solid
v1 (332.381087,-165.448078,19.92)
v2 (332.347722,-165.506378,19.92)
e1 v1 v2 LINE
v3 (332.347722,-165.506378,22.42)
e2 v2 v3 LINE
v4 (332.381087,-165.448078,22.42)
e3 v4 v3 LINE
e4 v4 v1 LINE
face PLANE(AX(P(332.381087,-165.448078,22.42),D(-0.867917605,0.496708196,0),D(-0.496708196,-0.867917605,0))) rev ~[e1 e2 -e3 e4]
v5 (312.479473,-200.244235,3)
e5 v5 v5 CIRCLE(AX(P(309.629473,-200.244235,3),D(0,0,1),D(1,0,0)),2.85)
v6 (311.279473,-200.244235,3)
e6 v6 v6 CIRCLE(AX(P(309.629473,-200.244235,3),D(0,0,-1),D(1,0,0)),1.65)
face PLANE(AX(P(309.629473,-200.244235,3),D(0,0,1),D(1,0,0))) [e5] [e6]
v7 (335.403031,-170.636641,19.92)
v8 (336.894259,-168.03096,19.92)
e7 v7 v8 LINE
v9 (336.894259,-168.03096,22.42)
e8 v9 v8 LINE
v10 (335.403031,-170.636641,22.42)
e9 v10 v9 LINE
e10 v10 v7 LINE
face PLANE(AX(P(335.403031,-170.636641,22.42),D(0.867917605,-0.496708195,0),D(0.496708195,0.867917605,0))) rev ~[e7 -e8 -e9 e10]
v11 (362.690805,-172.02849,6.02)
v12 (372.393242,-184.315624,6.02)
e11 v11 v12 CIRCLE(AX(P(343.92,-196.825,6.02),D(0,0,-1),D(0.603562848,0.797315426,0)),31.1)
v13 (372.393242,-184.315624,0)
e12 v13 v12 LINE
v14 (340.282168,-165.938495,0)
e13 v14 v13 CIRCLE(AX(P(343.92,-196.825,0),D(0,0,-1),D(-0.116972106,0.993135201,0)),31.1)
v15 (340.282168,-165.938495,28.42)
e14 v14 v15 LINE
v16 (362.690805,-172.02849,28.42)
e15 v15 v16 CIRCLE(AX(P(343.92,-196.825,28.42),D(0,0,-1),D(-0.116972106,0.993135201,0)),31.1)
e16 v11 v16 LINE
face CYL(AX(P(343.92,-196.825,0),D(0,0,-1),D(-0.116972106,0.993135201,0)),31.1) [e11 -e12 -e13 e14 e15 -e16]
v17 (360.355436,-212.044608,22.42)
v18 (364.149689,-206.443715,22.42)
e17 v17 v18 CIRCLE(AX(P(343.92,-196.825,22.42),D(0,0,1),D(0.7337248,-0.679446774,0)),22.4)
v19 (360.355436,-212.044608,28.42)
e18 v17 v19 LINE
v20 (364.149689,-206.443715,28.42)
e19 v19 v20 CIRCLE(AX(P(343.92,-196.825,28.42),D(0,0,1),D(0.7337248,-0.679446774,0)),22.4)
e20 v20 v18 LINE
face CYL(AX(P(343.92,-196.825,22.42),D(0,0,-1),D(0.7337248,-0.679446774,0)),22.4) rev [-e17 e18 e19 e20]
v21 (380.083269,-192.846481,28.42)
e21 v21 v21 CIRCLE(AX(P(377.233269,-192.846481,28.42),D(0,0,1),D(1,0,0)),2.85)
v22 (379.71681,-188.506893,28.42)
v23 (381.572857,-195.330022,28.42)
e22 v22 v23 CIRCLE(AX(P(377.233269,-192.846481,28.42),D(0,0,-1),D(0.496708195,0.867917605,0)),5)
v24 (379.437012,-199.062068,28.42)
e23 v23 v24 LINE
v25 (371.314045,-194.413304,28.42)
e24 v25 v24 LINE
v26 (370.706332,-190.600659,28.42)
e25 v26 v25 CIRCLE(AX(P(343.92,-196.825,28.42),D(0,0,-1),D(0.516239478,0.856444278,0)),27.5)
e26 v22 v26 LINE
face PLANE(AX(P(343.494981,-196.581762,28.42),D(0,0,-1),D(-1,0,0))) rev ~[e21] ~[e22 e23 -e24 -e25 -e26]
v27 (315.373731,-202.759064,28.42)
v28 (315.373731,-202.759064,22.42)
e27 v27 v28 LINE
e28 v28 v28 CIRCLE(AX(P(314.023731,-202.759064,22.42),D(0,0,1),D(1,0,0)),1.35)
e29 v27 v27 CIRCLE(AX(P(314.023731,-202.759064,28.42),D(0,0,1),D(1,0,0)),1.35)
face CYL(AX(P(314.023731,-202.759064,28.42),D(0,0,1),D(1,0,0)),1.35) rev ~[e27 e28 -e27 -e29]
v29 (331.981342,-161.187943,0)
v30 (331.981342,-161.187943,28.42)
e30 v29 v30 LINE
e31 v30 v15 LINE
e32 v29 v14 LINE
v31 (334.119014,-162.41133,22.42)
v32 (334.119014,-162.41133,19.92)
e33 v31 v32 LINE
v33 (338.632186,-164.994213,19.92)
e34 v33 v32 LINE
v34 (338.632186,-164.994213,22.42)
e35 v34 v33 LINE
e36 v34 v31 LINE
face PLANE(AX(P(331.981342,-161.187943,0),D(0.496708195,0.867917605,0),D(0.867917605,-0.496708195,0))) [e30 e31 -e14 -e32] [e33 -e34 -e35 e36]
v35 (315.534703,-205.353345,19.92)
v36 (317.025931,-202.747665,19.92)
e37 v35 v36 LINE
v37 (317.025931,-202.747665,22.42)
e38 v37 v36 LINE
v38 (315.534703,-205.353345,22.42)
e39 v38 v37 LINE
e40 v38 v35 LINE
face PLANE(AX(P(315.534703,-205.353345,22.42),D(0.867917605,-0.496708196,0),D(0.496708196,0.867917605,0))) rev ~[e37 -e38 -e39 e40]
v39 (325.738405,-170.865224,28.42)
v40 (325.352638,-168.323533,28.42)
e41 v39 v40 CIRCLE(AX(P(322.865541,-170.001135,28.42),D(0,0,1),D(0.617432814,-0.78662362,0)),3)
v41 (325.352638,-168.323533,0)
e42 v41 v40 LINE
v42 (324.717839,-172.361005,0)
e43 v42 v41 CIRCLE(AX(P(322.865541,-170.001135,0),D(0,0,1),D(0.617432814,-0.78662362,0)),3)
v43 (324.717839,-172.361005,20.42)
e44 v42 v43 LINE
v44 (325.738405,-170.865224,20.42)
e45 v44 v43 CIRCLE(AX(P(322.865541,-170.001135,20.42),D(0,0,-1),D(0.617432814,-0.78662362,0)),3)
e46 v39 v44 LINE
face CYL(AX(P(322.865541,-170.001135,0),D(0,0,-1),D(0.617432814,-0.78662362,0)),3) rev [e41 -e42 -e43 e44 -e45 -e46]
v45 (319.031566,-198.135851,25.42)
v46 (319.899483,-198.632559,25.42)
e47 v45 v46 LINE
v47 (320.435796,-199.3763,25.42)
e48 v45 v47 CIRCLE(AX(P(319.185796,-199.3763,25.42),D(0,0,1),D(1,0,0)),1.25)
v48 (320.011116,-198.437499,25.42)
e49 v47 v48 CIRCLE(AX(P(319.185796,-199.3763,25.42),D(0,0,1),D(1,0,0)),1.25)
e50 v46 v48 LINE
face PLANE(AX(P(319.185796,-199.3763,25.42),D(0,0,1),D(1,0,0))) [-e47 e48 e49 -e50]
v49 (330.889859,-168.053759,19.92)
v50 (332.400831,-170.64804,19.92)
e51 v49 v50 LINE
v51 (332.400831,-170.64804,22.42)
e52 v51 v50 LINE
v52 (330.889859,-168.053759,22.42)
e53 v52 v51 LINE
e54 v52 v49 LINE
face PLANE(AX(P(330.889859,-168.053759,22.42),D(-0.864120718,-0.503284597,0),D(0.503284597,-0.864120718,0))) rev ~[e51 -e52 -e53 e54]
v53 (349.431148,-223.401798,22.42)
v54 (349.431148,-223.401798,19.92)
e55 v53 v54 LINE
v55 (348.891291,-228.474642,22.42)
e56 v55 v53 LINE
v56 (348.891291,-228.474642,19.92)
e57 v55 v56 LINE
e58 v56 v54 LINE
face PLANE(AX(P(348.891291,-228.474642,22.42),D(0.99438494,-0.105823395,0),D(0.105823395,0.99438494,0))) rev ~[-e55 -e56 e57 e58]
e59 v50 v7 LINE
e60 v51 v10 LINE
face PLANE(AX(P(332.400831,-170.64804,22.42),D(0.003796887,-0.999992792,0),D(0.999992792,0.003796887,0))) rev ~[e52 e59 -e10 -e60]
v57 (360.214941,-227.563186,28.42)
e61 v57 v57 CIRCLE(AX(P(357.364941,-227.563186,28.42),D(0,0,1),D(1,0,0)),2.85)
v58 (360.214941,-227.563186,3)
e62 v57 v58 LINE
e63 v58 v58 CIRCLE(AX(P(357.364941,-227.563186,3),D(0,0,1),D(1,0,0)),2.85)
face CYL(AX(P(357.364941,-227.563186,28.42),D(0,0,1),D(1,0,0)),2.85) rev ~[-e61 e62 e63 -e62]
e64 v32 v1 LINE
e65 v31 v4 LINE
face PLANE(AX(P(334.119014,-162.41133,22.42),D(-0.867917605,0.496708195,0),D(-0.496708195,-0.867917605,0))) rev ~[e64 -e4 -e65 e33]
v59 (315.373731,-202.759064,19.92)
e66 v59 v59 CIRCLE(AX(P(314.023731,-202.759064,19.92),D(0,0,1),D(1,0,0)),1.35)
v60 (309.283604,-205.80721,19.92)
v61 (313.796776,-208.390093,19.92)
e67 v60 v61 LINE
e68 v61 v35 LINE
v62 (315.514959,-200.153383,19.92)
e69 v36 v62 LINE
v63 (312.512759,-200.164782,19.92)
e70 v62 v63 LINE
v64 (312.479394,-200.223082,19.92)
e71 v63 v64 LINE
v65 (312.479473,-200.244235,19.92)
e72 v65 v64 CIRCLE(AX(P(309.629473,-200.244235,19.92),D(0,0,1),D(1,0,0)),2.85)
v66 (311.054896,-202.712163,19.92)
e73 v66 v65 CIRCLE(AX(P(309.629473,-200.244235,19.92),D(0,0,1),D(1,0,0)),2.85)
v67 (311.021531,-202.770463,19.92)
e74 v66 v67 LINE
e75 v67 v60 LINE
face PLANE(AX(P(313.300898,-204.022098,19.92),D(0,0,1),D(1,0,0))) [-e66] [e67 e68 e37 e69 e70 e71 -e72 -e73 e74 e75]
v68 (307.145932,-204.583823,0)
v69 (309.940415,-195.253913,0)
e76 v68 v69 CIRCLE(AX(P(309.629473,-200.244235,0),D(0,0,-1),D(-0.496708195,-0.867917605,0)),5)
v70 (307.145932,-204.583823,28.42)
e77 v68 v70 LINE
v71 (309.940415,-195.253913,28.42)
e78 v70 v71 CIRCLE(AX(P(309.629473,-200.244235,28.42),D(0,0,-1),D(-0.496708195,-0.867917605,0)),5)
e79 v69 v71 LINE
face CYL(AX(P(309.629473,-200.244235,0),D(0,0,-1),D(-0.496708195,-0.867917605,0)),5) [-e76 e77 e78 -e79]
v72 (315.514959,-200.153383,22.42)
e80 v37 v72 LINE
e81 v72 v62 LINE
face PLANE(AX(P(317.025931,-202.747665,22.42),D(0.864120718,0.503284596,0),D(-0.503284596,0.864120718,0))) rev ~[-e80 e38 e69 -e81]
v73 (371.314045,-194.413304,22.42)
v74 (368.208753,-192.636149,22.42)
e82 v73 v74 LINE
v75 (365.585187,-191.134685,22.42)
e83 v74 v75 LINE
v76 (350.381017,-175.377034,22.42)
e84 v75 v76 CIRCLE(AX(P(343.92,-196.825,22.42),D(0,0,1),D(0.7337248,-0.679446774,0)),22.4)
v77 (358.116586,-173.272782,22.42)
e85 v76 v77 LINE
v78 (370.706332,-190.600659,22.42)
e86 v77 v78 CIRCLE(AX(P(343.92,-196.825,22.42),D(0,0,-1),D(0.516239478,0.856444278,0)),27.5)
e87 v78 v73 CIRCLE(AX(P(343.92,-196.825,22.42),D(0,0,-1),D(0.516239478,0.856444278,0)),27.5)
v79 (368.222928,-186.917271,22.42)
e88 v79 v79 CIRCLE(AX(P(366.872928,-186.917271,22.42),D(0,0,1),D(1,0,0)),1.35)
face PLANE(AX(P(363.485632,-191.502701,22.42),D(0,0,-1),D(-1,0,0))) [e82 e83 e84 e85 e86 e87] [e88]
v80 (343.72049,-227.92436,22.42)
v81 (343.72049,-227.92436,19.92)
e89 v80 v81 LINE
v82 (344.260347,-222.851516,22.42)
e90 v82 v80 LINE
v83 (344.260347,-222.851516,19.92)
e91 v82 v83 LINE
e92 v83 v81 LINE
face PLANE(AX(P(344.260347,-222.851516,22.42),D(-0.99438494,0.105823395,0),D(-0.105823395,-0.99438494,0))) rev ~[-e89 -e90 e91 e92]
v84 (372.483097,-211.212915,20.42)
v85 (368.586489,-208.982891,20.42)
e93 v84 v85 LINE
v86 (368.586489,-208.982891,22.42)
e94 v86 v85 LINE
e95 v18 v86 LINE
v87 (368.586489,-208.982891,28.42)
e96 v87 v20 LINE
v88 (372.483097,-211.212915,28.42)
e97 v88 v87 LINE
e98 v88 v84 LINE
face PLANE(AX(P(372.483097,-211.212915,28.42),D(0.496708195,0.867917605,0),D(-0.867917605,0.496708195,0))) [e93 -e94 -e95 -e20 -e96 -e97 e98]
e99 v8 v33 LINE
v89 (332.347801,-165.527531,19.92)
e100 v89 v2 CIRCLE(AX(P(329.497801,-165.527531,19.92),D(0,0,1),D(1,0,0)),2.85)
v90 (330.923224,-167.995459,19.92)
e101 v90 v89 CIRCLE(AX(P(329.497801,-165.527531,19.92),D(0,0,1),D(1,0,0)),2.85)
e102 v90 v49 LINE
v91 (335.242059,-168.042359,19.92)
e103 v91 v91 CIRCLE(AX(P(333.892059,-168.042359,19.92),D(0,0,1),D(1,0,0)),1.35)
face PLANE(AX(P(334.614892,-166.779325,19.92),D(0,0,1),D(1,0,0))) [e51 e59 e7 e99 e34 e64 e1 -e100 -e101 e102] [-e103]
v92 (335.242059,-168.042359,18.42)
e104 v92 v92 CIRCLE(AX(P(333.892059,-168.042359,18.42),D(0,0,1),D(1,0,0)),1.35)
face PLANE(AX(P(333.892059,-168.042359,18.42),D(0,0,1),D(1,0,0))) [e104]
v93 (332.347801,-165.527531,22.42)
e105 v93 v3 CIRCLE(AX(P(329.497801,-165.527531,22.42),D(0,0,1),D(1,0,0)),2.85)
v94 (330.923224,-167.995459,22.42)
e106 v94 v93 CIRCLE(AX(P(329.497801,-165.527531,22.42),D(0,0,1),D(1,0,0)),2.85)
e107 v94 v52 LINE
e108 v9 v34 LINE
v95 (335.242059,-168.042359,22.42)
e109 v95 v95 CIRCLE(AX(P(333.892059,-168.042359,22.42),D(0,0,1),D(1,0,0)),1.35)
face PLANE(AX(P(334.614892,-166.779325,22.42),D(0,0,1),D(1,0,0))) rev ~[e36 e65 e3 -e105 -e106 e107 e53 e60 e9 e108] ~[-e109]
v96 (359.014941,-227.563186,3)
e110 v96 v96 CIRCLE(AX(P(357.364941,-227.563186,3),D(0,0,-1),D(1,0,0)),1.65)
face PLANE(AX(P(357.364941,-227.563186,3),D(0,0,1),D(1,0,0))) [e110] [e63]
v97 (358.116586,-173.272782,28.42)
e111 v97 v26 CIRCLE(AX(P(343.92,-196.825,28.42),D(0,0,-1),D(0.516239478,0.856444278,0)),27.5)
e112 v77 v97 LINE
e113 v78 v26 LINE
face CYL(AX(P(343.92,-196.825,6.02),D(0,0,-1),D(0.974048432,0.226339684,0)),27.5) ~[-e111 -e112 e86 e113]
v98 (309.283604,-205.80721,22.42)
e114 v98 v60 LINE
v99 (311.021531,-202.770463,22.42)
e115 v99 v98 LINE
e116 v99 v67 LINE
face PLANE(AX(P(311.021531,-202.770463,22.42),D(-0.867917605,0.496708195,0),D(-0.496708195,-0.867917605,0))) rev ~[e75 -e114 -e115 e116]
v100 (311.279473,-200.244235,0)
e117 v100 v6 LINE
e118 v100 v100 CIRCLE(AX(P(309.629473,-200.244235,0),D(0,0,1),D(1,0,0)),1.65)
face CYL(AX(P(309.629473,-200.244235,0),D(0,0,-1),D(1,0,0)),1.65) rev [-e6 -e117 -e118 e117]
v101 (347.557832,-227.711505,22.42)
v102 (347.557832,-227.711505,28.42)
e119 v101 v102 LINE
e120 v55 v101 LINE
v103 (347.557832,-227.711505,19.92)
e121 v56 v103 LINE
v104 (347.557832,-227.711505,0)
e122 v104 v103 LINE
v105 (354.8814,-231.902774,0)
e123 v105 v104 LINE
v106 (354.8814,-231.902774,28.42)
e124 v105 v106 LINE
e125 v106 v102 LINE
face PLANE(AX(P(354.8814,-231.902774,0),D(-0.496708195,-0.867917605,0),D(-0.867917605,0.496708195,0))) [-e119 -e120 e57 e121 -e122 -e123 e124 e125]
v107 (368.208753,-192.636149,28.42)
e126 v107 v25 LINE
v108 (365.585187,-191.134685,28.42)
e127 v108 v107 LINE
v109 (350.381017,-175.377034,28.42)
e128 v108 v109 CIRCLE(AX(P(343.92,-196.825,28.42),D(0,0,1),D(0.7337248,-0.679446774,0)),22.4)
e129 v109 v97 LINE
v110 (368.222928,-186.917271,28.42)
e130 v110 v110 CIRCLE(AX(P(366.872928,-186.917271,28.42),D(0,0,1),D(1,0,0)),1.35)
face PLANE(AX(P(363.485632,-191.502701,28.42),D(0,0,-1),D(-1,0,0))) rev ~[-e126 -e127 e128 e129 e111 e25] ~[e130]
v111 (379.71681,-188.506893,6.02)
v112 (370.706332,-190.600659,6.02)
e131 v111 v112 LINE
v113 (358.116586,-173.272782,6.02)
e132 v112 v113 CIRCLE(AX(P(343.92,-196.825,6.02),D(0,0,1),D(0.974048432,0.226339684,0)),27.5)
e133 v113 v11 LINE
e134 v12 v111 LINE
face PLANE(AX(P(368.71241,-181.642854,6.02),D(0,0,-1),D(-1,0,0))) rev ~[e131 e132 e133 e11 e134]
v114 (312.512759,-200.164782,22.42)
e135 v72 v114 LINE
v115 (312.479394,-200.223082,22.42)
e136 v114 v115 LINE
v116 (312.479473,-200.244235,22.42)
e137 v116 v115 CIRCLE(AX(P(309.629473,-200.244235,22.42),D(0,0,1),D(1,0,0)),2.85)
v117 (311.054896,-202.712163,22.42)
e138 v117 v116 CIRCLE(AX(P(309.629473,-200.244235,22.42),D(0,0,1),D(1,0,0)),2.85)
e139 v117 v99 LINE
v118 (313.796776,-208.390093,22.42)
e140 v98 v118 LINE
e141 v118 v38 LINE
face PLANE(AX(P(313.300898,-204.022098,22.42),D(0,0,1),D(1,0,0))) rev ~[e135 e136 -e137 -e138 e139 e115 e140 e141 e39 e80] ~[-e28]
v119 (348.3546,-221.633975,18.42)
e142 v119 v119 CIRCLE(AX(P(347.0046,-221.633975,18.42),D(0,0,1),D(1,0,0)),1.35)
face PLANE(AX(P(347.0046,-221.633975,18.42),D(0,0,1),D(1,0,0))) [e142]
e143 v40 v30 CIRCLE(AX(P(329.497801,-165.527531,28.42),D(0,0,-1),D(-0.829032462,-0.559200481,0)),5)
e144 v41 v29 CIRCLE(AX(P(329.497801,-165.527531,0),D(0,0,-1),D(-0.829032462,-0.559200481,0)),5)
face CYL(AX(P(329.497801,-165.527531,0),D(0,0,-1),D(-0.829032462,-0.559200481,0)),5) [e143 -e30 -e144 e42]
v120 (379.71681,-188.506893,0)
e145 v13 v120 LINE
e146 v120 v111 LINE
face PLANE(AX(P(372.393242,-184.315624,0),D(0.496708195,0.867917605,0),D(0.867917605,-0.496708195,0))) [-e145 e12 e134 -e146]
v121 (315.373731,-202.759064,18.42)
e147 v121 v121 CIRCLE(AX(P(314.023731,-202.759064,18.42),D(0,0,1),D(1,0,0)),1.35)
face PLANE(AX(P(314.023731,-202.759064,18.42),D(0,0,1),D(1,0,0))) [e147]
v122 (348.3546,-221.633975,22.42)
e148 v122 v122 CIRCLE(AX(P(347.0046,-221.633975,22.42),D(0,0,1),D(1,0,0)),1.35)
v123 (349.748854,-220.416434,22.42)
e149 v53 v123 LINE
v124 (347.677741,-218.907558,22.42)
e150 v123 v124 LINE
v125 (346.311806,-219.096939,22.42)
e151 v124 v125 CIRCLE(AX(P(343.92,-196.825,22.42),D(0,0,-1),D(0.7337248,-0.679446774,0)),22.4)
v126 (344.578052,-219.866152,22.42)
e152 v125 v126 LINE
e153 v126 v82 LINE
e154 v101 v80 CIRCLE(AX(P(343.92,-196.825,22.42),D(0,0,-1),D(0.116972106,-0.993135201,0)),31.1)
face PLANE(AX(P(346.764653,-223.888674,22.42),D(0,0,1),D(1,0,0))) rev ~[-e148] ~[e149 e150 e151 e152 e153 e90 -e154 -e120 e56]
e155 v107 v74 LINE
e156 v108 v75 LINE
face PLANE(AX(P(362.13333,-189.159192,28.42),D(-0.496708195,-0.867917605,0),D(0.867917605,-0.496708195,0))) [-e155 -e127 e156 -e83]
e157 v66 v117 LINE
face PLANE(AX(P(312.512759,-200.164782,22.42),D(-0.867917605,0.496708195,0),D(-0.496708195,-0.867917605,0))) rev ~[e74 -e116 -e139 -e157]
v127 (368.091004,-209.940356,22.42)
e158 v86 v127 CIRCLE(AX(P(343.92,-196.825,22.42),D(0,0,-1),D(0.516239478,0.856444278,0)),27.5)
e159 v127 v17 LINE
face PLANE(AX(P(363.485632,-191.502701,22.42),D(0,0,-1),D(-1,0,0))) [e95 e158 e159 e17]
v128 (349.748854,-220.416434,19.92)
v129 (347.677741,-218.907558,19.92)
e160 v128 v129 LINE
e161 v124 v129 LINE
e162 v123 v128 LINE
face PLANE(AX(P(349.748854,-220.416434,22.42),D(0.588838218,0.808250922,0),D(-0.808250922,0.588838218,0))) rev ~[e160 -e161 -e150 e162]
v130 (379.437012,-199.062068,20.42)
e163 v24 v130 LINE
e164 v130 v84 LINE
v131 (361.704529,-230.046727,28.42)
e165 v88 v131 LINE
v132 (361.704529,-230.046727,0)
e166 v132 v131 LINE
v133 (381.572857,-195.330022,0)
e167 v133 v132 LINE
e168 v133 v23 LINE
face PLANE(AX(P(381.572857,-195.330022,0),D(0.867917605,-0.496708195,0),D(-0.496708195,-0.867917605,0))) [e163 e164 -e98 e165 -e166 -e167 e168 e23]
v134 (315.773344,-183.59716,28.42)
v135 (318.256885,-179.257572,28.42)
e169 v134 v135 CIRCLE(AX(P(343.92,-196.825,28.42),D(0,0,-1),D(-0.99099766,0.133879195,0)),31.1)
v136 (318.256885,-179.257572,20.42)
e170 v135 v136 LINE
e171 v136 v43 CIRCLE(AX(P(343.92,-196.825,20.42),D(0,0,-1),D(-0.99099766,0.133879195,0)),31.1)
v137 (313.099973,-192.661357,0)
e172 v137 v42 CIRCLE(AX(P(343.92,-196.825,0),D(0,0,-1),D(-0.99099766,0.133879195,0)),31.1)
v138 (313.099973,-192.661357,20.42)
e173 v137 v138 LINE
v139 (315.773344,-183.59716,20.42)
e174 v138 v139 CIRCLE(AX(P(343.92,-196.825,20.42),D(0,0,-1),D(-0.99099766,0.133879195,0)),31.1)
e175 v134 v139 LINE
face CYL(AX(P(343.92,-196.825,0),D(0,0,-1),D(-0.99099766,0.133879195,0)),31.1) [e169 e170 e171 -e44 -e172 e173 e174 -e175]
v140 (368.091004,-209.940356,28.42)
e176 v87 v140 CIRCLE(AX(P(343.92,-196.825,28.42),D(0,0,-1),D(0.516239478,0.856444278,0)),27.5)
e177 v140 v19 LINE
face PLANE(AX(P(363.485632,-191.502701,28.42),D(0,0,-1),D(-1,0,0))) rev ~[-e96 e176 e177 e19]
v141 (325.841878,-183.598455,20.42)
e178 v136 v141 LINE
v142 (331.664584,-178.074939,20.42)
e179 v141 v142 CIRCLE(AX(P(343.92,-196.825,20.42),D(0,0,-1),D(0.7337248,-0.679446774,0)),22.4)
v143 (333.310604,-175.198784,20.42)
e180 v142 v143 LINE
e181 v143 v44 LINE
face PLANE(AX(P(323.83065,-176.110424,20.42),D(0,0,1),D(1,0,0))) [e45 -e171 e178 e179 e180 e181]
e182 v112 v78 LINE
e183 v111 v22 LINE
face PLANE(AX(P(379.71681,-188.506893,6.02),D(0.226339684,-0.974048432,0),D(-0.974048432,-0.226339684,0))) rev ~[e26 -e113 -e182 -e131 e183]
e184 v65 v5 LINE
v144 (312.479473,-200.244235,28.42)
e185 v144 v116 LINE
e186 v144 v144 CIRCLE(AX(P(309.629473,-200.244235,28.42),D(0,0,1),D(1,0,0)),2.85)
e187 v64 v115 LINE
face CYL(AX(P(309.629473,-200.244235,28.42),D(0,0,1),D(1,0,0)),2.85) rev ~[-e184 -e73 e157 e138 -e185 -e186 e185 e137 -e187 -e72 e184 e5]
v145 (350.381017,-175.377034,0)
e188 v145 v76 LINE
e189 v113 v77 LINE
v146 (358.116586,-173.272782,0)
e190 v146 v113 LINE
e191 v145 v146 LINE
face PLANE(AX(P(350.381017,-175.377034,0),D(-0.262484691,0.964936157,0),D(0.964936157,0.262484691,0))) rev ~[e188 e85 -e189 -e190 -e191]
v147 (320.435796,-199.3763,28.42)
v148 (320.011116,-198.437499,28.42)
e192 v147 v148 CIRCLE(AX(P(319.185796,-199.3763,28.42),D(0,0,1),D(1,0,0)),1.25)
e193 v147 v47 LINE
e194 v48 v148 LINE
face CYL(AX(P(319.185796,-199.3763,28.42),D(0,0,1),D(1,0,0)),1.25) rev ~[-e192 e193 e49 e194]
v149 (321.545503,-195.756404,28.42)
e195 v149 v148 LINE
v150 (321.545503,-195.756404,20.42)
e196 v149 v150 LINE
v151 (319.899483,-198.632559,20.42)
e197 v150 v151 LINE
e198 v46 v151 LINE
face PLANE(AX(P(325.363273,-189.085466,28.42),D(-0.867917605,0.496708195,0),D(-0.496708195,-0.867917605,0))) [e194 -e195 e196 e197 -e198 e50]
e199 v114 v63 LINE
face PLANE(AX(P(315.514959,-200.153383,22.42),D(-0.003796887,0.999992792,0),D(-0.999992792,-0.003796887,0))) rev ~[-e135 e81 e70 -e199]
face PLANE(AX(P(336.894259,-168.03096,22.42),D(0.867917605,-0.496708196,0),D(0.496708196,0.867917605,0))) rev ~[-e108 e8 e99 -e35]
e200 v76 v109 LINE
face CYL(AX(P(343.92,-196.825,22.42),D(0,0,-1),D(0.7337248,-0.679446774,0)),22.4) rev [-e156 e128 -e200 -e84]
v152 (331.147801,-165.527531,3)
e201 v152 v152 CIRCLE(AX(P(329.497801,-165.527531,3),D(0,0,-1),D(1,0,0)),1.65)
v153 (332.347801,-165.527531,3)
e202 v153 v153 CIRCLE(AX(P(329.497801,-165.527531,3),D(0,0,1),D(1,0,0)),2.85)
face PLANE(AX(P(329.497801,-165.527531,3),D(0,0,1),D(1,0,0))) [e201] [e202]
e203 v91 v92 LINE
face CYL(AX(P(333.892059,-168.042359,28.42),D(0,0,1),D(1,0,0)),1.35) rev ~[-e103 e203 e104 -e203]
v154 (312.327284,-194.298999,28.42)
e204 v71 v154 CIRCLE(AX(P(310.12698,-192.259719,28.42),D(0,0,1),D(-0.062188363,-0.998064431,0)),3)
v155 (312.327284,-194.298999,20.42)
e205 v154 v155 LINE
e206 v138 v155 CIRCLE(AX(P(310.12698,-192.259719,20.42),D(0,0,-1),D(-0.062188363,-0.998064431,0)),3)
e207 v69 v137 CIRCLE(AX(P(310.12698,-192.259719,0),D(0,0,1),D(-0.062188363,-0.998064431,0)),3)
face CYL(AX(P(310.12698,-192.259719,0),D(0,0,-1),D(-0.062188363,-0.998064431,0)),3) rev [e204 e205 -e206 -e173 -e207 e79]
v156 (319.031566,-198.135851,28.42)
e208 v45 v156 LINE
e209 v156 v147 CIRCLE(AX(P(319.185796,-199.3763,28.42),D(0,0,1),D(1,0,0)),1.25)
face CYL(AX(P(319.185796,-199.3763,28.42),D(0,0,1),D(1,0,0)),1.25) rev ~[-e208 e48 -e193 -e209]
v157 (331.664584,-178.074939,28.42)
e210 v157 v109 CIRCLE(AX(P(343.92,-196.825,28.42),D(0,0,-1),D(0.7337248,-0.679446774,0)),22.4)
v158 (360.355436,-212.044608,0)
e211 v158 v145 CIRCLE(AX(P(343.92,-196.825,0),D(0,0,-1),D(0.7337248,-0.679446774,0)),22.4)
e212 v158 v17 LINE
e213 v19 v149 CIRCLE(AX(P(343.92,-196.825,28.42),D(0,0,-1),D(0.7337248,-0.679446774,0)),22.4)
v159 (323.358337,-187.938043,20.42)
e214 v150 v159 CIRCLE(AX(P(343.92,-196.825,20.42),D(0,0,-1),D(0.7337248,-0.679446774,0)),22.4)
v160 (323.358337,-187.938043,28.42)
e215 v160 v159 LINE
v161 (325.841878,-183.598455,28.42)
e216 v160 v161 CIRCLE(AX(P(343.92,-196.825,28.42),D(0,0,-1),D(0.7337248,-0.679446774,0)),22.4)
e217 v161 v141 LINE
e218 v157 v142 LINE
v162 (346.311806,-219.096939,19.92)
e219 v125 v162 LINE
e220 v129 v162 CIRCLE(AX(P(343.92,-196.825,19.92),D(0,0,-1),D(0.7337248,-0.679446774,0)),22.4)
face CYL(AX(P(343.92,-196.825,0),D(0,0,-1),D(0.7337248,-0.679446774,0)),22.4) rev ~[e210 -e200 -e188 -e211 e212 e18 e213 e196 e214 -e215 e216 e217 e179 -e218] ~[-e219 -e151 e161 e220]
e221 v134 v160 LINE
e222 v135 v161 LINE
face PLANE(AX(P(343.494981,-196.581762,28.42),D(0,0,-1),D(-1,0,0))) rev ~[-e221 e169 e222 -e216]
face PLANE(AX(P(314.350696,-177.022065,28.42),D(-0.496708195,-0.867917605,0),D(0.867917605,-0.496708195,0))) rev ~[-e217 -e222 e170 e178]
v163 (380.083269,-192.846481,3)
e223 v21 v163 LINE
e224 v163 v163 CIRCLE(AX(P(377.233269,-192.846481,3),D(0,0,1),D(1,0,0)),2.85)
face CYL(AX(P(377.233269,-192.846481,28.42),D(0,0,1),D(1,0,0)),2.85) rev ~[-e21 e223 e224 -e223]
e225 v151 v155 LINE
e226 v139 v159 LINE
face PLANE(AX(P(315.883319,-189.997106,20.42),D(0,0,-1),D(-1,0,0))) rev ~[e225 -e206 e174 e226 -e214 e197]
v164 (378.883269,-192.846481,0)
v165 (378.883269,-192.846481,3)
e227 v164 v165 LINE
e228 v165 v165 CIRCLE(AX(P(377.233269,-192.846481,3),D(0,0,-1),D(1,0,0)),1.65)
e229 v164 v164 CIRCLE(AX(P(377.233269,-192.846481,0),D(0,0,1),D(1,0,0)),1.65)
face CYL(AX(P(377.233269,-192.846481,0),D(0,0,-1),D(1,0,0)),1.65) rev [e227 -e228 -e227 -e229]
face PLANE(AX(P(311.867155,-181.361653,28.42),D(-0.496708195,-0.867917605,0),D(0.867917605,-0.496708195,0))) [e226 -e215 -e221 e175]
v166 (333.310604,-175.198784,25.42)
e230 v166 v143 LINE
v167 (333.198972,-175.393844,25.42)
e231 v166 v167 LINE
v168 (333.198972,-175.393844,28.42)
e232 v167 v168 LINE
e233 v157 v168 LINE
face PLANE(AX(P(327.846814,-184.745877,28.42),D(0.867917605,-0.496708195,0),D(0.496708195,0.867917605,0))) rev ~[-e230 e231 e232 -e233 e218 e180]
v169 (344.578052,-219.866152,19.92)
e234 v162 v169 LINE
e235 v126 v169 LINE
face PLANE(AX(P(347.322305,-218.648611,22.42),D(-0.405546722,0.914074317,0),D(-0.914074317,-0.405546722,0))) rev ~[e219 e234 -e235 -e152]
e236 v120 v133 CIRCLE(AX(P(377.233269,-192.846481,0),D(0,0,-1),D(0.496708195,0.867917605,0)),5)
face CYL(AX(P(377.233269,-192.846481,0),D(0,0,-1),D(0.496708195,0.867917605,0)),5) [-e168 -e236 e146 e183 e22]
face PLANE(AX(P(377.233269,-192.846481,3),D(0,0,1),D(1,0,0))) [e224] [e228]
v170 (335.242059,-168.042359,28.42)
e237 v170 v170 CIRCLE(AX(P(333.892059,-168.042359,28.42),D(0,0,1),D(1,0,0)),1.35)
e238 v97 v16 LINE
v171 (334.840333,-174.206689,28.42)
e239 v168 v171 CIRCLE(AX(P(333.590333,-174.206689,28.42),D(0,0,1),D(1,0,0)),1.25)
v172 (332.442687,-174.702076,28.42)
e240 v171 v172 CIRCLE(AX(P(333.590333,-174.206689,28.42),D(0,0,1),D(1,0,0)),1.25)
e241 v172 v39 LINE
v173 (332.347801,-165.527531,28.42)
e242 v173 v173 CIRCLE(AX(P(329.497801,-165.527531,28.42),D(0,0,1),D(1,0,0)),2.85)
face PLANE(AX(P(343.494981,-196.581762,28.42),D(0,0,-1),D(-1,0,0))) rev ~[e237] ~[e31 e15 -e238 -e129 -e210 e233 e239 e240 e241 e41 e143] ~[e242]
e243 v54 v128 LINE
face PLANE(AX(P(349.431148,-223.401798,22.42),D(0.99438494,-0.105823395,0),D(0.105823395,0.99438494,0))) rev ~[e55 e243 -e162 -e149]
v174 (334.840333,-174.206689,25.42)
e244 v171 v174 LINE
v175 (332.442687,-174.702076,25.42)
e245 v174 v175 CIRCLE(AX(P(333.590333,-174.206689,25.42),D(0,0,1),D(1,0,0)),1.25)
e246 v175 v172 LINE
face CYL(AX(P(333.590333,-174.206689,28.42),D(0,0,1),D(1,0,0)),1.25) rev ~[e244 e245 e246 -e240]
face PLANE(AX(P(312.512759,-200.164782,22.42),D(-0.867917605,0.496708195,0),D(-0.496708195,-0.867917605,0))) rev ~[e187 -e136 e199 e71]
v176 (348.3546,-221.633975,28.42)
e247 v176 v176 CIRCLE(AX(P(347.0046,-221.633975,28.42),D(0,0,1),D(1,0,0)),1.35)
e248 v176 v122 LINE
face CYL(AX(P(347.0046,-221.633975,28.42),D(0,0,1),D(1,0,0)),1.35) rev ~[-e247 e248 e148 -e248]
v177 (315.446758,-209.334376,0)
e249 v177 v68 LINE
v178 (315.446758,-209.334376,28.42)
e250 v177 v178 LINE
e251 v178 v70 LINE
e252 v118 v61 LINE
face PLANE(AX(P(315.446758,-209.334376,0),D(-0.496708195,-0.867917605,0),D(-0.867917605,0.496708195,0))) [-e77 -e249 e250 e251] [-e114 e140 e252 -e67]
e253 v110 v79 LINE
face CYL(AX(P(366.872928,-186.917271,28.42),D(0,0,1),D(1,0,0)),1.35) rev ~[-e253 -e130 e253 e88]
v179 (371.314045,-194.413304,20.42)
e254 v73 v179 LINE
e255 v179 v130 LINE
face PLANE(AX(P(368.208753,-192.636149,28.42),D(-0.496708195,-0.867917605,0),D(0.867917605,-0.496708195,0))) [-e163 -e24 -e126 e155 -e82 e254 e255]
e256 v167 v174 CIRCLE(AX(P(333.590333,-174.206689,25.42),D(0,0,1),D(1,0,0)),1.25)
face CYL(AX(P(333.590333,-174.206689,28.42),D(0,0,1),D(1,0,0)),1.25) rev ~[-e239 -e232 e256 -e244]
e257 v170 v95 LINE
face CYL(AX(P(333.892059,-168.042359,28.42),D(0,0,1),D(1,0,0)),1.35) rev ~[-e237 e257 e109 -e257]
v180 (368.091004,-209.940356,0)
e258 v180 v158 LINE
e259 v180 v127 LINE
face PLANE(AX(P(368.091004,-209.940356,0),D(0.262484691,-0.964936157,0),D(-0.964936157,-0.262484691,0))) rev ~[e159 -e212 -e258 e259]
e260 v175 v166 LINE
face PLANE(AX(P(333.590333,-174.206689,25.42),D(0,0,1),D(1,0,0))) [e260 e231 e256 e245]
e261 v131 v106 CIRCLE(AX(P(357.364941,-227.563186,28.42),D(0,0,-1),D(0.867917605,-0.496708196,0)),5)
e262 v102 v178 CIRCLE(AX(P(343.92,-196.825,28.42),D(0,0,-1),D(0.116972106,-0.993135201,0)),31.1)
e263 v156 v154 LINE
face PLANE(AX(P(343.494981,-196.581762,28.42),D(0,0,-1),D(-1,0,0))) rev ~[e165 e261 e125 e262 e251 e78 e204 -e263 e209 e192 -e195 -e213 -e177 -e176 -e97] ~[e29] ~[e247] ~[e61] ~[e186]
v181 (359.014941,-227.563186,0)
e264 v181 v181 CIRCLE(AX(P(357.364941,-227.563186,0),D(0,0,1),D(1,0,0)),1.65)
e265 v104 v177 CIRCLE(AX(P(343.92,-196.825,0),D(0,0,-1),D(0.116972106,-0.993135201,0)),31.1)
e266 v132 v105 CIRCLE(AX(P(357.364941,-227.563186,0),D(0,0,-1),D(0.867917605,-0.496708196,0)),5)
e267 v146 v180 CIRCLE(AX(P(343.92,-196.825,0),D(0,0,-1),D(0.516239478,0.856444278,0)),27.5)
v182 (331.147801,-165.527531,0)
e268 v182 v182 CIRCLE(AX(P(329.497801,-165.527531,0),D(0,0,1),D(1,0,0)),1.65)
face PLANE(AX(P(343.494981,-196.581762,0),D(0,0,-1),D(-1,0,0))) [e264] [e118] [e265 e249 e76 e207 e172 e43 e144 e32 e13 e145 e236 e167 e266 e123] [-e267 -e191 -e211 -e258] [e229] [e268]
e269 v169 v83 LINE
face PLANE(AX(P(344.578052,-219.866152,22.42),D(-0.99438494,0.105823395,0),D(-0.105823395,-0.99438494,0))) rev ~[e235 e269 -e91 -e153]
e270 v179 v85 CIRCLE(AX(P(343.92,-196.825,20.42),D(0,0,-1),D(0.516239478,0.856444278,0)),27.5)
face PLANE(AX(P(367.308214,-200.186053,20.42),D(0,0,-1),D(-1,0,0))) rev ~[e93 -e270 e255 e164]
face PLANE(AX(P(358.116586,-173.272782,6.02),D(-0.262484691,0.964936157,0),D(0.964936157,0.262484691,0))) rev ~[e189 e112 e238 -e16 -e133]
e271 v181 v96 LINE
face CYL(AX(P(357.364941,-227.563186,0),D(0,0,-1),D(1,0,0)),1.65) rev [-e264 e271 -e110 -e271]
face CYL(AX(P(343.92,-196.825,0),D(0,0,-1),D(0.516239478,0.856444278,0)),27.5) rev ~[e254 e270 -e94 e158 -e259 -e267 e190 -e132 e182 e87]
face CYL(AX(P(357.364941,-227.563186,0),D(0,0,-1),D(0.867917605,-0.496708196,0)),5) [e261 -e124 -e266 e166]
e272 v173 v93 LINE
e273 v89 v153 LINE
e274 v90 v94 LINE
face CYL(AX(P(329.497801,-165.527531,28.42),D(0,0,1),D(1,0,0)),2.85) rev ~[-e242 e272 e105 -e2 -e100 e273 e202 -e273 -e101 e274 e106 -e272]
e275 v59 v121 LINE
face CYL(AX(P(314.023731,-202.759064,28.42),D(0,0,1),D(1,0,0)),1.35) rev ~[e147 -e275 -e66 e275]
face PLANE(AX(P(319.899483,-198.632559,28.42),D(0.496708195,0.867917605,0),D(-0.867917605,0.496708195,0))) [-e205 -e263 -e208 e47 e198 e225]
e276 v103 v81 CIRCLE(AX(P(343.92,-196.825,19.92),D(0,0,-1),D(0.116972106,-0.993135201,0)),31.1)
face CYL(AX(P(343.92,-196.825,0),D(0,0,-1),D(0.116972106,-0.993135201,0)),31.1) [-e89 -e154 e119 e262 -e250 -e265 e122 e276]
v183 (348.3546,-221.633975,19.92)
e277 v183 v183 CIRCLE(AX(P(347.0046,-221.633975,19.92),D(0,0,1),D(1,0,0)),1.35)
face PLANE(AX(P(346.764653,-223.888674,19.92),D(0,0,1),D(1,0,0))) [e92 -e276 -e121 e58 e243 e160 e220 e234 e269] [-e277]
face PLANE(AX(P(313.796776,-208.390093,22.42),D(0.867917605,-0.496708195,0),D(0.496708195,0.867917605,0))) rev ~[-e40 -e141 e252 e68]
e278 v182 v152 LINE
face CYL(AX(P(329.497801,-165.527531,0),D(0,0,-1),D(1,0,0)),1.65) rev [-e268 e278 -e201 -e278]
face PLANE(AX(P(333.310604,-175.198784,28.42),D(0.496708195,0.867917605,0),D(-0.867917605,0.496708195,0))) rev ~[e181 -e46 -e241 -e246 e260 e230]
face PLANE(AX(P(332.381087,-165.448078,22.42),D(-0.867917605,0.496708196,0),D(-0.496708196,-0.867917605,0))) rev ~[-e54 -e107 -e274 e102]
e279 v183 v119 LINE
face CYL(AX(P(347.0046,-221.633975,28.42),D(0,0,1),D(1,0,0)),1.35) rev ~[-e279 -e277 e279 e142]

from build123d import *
from build123d.topology import SkipClean

# Parameters (mm, degrees)
SKETCH1_R           = 1.65
BOSS_EXTRUDE1_DEPTH = 28.42
BOSS_EXTRUDE2_START = -6
BOSS_EXTRUDE2_DEPTH = 6
CUT_EXTRUDE1_DEPTH  = 448.984003326
SKETCH2_R           = 1.35
CUT_EXTRUDE2_DEPTH  = 10
CUT_EXTRUDE3_START  = -6
CUT_EXTRUDE3_DEPTH  = 2.5
SKETCH6_R           = 2.85
CUT_EXTRUDE4_DEPTH  = 25.42
CUT_EXTRUDE5_DEPTH  = 8
SKETCH9_R           = 1.25
SKETCH9_R_2         = 0.9
CUT_EXTRUDE6_DEPTH  = 3


with BuildPart() as part:
    # Sketch1 → Boss-Extrude1 (new body)
    with BuildSketch(Plane.XY):
        with BuildLine():
            Line((315.446757744, -209.334375502), (307.145931928, -204.583822928))
            ThreePointArc((307.145931928, -204.583822928), (304.839707487, -198.809610477), (309.94041472, -195.253912751))
            ThreePointArc((309.94041472, -195.253912751), (312.02997255, -194.578904366), (313.099972788, -192.661357044))
            ThreePointArc((313.099972788, -192.661357044), (316.927762492, -181.377375124), (324.717839469, -172.361005417))
            ThreePointArc((324.717839469, -172.361005417), (325.829134231, -170.467090901), (325.352638411, -168.323533116))
            ThreePointArc((325.352638411, -168.323533116), (325.834549562, -162.124503979), (331.981341697, -161.18794269))
            Line((331.981341697, -161.18794269), (340.282167513, -165.938495264))
            ThreePointArc((340.282167513, -165.938495264), (359.367624876, -169.832762492), (372.393242256, -184.315624498))
            Line((372.393242256, -184.315624498), (379.716809958, -188.506893436))
            ThreePointArc((379.716809958, -188.506893436), (382.057949767, -191.534058007), (381.572857005, -195.330022437))
            Line((381.572857005, -195.330022437), (361.70452919, -230.046726627))
            ThreePointArc((361.70452919, -230.046726627), (358.677364619, -232.387866435), (354.881400189, -231.902773674))
            Line((354.881400189, -231.902773674), (347.557832487, -227.711504736))
            ThreePointArc((347.557832487, -227.711504736), (328.472375124, -223.817237508), (315.446757744, -209.334375502))
        make_face()
        with Locations((329.49780072, -165.527530714)):
            Circle(SKETCH1_R, mode=Mode.SUBTRACT)
        with Locations((309.629472905, -200.244234904)):
            Circle(SKETCH1_R, mode=Mode.SUBTRACT)
        with Locations((357.364941166, -227.56318565)):
            Circle(SKETCH1_R, mode=Mode.SUBTRACT)
        with Locations((377.233268981, -192.84648146)):
            Circle(SKETCH1_R, mode=Mode.SUBTRACT)
        with BuildLine():
            Line((350.381017272, -175.377033761), (358.116585638, -173.27278235))
            ThreePointArc((358.116585638, -173.27278235), (370.455744319, -189.606671008), (368.091003881, -209.940356319))
            Line((368.091003881, -209.940356319), (360.355435515, -212.044607729))
            ThreePointArc((360.355435515, -212.044607729), (322.305430082, -202.70465707), (350.381017272, -175.377033761))
        make_face(mode=Mode.SUBTRACT)
    extrude(amount=BOSS_EXTRUDE1_DEPTH)

    # Sketch3 → Boss-Extrude2 (add)
    with SkipClean():  # the faces are left unmerged after this step: merging them gives an invalid solid
        with BuildSketch(Plane.XY.offset(28.42).offset(BOSS_EXTRUDE2_START)):
            with BuildLine():
                Line((350.381017272, -175.377033761), (358.116585638, -173.27278235))
                ThreePointArc((358.116585638, -173.27278235), (370.455744319, -189.606671008), (368.091003881, -209.940356319))
                Line((368.091003881, -209.940356319), (360.355435515, -212.044607729))
                ThreePointArc((360.355435515, -212.044607729), (365.534569918, -190.94534293), (350.381017272, -175.377033761))
            make_face()
        extrude(amount=BOSS_EXTRUDE2_DEPTH)

    # Sketch4 → Cut-Extrude1 (cut, through all)
    with SkipClean():  # the faces are left unmerged after this step: merging them gives an invalid solid
        with BuildSketch(Plane.XY.offset(6.02)):
            with BuildLine():
                Line((358.116585638, -173.27278235), (362.690804567, -172.028490247))
                ThreePointArc((362.690804567, -172.028490247), (368.327855438, -177.551531373), (372.393242256, -184.315624498))
                Line((372.393242256, -184.315624498), (379.716809958, -188.506893436))
                Line((379.716809958, -188.506893436), (370.706331874, -190.60065869))
                ThreePointArc((370.706331874, -190.60065869), (366.167779812, -180.660647448), (358.116585638, -173.27278235))
            make_face()
        extrude(amount=CUT_EXTRUDE1_DEPTH, mode=Mode.SUBTRACT)

    # Sketch2 → Cut-Extrude2 (cut)
    with SkipClean():  # the faces are left unmerged after this step: merging them gives an invalid solid
        with BuildSketch(Plane.XY.offset(28.42)):
            with Locations((333.892058998, -168.042359411)):
                Circle(SKETCH2_R)
            with Locations((366.872927979, -186.917270836)):
                Circle(SKETCH2_R)
            with Locations((347.004600164, -221.633975026)):
                Circle(SKETCH2_R)
            with Locations((314.023731183, -202.759063601)):
                Circle(SKETCH2_R)
        extrude(amount=-CUT_EXTRUDE2_DEPTH, mode=Mode.SUBTRACT)

    # Sketch5 → Cut-Extrude3 (cut)
    with SkipClean():  # the faces are left unmerged after this step: merging them gives an invalid solid
        with BuildSketch(Plane.XY.offset(28.42).offset(CUT_EXTRUDE3_START)):
            Polygon((347.322305423, -218.648611279), (344.578051949, -219.866152326), (344.260346689, -222.851516073), (343.72048979, -227.924360053), (348.891291479, -228.474641704), (349.431148378, -223.401797725), (349.748853638, -220.416433978), align=None)
            Polygon((317.025930942, -202.747664506), (315.514959157, -200.153382795), (312.512759397, -200.16478189), (311.021531424, -202.770462696), (309.283604434, -205.807210317), (313.796775978, -208.390092933), (315.534702968, -205.353345312), align=None)
            Polygon((332.381087213, -165.4480777), (330.889859239, -168.053758506), (332.400831025, -170.648040217), (335.403030784, -170.636641122), (336.894258757, -168.030960316), (338.632185748, -164.994212695), (334.119014203, -162.411330079), align=None)
        extrude(amount=-CUT_EXTRUDE3_DEPTH, mode=Mode.SUBTRACT)

    # Sketch6 → Cut-Extrude4 (cut)
    with SkipClean():  # the faces are left unmerged after this step: merging them gives an invalid solid
        with BuildSketch(Plane.XY.offset(28.42)):
            with Locations((309.629472905, -200.244234904)):
                Circle(SKETCH6_R)
            with Locations((329.49780072, -165.527530714)):
                Circle(SKETCH6_R)
            with Locations((357.364941166, -227.56318565)):
                Circle(SKETCH6_R)
            with Locations((377.233268981, -192.84648146)):
                Circle(SKETCH6_R)
        extrude(amount=-CUT_EXTRUDE4_DEPTH, mode=Mode.SUBTRACT)

    # Sketch7 → Cut-Extrude5 (cut)
    with SkipClean():  # the faces are left unmerged after this step: merging them gives an invalid solid
        with BuildSketch(Plane.XY.offset(28.42)):
            Polygon((314.35069552, -177.022065052), (327.846814274, -184.74587749), (333.310604423, -175.198783838), (319.814485669, -167.4749714), align=None)
            Polygon((311.867154543, -181.361653076), (325.363273297, -189.085465514), (319.899483147, -198.632559166), (306.403364394, -190.908746728), align=None)
            Polygon((362.133329989, -189.159191987), (368.208753158, -192.636149318), (379.437011765, -199.062068137), (372.48309703, -211.212914604), (361.254838422, -204.786995784), (355.179415254, -201.310038454), align=None)
        extrude(amount=-CUT_EXTRUDE5_DEPTH, mode=Mode.SUBTRACT)

    # Sketch9 → Cut-Extrude6 (cut)
    with SkipClean():  # the faces are left unmerged after this step: merging them gives an invalid solid
        with BuildSketch(Plane.XY.offset(28.42)):
            with Locations((333.590333217, -174.206689184)):
                Circle(SKETCH9_R)
            with Locations((331.502572712, -180.270619929)):
                Circle(SKETCH9_R_2)
            with Locations((328.870019276, -184.870583234)):
                Circle(SKETCH9_R_2)
            with Locations((326.388064384, -186.791494453)):
                Circle(SKETCH9_R)
            with Locations((322.661166834, -195.719553293)):
                Circle(SKETCH9_R_2)
            with Locations((319.185795551, -199.376299722)):
                Circle(SKETCH9_R)
        extrude(amount=-CUT_EXTRUDE6_DEPTH, mode=Mode.SUBTRACT)


solid = part.part
